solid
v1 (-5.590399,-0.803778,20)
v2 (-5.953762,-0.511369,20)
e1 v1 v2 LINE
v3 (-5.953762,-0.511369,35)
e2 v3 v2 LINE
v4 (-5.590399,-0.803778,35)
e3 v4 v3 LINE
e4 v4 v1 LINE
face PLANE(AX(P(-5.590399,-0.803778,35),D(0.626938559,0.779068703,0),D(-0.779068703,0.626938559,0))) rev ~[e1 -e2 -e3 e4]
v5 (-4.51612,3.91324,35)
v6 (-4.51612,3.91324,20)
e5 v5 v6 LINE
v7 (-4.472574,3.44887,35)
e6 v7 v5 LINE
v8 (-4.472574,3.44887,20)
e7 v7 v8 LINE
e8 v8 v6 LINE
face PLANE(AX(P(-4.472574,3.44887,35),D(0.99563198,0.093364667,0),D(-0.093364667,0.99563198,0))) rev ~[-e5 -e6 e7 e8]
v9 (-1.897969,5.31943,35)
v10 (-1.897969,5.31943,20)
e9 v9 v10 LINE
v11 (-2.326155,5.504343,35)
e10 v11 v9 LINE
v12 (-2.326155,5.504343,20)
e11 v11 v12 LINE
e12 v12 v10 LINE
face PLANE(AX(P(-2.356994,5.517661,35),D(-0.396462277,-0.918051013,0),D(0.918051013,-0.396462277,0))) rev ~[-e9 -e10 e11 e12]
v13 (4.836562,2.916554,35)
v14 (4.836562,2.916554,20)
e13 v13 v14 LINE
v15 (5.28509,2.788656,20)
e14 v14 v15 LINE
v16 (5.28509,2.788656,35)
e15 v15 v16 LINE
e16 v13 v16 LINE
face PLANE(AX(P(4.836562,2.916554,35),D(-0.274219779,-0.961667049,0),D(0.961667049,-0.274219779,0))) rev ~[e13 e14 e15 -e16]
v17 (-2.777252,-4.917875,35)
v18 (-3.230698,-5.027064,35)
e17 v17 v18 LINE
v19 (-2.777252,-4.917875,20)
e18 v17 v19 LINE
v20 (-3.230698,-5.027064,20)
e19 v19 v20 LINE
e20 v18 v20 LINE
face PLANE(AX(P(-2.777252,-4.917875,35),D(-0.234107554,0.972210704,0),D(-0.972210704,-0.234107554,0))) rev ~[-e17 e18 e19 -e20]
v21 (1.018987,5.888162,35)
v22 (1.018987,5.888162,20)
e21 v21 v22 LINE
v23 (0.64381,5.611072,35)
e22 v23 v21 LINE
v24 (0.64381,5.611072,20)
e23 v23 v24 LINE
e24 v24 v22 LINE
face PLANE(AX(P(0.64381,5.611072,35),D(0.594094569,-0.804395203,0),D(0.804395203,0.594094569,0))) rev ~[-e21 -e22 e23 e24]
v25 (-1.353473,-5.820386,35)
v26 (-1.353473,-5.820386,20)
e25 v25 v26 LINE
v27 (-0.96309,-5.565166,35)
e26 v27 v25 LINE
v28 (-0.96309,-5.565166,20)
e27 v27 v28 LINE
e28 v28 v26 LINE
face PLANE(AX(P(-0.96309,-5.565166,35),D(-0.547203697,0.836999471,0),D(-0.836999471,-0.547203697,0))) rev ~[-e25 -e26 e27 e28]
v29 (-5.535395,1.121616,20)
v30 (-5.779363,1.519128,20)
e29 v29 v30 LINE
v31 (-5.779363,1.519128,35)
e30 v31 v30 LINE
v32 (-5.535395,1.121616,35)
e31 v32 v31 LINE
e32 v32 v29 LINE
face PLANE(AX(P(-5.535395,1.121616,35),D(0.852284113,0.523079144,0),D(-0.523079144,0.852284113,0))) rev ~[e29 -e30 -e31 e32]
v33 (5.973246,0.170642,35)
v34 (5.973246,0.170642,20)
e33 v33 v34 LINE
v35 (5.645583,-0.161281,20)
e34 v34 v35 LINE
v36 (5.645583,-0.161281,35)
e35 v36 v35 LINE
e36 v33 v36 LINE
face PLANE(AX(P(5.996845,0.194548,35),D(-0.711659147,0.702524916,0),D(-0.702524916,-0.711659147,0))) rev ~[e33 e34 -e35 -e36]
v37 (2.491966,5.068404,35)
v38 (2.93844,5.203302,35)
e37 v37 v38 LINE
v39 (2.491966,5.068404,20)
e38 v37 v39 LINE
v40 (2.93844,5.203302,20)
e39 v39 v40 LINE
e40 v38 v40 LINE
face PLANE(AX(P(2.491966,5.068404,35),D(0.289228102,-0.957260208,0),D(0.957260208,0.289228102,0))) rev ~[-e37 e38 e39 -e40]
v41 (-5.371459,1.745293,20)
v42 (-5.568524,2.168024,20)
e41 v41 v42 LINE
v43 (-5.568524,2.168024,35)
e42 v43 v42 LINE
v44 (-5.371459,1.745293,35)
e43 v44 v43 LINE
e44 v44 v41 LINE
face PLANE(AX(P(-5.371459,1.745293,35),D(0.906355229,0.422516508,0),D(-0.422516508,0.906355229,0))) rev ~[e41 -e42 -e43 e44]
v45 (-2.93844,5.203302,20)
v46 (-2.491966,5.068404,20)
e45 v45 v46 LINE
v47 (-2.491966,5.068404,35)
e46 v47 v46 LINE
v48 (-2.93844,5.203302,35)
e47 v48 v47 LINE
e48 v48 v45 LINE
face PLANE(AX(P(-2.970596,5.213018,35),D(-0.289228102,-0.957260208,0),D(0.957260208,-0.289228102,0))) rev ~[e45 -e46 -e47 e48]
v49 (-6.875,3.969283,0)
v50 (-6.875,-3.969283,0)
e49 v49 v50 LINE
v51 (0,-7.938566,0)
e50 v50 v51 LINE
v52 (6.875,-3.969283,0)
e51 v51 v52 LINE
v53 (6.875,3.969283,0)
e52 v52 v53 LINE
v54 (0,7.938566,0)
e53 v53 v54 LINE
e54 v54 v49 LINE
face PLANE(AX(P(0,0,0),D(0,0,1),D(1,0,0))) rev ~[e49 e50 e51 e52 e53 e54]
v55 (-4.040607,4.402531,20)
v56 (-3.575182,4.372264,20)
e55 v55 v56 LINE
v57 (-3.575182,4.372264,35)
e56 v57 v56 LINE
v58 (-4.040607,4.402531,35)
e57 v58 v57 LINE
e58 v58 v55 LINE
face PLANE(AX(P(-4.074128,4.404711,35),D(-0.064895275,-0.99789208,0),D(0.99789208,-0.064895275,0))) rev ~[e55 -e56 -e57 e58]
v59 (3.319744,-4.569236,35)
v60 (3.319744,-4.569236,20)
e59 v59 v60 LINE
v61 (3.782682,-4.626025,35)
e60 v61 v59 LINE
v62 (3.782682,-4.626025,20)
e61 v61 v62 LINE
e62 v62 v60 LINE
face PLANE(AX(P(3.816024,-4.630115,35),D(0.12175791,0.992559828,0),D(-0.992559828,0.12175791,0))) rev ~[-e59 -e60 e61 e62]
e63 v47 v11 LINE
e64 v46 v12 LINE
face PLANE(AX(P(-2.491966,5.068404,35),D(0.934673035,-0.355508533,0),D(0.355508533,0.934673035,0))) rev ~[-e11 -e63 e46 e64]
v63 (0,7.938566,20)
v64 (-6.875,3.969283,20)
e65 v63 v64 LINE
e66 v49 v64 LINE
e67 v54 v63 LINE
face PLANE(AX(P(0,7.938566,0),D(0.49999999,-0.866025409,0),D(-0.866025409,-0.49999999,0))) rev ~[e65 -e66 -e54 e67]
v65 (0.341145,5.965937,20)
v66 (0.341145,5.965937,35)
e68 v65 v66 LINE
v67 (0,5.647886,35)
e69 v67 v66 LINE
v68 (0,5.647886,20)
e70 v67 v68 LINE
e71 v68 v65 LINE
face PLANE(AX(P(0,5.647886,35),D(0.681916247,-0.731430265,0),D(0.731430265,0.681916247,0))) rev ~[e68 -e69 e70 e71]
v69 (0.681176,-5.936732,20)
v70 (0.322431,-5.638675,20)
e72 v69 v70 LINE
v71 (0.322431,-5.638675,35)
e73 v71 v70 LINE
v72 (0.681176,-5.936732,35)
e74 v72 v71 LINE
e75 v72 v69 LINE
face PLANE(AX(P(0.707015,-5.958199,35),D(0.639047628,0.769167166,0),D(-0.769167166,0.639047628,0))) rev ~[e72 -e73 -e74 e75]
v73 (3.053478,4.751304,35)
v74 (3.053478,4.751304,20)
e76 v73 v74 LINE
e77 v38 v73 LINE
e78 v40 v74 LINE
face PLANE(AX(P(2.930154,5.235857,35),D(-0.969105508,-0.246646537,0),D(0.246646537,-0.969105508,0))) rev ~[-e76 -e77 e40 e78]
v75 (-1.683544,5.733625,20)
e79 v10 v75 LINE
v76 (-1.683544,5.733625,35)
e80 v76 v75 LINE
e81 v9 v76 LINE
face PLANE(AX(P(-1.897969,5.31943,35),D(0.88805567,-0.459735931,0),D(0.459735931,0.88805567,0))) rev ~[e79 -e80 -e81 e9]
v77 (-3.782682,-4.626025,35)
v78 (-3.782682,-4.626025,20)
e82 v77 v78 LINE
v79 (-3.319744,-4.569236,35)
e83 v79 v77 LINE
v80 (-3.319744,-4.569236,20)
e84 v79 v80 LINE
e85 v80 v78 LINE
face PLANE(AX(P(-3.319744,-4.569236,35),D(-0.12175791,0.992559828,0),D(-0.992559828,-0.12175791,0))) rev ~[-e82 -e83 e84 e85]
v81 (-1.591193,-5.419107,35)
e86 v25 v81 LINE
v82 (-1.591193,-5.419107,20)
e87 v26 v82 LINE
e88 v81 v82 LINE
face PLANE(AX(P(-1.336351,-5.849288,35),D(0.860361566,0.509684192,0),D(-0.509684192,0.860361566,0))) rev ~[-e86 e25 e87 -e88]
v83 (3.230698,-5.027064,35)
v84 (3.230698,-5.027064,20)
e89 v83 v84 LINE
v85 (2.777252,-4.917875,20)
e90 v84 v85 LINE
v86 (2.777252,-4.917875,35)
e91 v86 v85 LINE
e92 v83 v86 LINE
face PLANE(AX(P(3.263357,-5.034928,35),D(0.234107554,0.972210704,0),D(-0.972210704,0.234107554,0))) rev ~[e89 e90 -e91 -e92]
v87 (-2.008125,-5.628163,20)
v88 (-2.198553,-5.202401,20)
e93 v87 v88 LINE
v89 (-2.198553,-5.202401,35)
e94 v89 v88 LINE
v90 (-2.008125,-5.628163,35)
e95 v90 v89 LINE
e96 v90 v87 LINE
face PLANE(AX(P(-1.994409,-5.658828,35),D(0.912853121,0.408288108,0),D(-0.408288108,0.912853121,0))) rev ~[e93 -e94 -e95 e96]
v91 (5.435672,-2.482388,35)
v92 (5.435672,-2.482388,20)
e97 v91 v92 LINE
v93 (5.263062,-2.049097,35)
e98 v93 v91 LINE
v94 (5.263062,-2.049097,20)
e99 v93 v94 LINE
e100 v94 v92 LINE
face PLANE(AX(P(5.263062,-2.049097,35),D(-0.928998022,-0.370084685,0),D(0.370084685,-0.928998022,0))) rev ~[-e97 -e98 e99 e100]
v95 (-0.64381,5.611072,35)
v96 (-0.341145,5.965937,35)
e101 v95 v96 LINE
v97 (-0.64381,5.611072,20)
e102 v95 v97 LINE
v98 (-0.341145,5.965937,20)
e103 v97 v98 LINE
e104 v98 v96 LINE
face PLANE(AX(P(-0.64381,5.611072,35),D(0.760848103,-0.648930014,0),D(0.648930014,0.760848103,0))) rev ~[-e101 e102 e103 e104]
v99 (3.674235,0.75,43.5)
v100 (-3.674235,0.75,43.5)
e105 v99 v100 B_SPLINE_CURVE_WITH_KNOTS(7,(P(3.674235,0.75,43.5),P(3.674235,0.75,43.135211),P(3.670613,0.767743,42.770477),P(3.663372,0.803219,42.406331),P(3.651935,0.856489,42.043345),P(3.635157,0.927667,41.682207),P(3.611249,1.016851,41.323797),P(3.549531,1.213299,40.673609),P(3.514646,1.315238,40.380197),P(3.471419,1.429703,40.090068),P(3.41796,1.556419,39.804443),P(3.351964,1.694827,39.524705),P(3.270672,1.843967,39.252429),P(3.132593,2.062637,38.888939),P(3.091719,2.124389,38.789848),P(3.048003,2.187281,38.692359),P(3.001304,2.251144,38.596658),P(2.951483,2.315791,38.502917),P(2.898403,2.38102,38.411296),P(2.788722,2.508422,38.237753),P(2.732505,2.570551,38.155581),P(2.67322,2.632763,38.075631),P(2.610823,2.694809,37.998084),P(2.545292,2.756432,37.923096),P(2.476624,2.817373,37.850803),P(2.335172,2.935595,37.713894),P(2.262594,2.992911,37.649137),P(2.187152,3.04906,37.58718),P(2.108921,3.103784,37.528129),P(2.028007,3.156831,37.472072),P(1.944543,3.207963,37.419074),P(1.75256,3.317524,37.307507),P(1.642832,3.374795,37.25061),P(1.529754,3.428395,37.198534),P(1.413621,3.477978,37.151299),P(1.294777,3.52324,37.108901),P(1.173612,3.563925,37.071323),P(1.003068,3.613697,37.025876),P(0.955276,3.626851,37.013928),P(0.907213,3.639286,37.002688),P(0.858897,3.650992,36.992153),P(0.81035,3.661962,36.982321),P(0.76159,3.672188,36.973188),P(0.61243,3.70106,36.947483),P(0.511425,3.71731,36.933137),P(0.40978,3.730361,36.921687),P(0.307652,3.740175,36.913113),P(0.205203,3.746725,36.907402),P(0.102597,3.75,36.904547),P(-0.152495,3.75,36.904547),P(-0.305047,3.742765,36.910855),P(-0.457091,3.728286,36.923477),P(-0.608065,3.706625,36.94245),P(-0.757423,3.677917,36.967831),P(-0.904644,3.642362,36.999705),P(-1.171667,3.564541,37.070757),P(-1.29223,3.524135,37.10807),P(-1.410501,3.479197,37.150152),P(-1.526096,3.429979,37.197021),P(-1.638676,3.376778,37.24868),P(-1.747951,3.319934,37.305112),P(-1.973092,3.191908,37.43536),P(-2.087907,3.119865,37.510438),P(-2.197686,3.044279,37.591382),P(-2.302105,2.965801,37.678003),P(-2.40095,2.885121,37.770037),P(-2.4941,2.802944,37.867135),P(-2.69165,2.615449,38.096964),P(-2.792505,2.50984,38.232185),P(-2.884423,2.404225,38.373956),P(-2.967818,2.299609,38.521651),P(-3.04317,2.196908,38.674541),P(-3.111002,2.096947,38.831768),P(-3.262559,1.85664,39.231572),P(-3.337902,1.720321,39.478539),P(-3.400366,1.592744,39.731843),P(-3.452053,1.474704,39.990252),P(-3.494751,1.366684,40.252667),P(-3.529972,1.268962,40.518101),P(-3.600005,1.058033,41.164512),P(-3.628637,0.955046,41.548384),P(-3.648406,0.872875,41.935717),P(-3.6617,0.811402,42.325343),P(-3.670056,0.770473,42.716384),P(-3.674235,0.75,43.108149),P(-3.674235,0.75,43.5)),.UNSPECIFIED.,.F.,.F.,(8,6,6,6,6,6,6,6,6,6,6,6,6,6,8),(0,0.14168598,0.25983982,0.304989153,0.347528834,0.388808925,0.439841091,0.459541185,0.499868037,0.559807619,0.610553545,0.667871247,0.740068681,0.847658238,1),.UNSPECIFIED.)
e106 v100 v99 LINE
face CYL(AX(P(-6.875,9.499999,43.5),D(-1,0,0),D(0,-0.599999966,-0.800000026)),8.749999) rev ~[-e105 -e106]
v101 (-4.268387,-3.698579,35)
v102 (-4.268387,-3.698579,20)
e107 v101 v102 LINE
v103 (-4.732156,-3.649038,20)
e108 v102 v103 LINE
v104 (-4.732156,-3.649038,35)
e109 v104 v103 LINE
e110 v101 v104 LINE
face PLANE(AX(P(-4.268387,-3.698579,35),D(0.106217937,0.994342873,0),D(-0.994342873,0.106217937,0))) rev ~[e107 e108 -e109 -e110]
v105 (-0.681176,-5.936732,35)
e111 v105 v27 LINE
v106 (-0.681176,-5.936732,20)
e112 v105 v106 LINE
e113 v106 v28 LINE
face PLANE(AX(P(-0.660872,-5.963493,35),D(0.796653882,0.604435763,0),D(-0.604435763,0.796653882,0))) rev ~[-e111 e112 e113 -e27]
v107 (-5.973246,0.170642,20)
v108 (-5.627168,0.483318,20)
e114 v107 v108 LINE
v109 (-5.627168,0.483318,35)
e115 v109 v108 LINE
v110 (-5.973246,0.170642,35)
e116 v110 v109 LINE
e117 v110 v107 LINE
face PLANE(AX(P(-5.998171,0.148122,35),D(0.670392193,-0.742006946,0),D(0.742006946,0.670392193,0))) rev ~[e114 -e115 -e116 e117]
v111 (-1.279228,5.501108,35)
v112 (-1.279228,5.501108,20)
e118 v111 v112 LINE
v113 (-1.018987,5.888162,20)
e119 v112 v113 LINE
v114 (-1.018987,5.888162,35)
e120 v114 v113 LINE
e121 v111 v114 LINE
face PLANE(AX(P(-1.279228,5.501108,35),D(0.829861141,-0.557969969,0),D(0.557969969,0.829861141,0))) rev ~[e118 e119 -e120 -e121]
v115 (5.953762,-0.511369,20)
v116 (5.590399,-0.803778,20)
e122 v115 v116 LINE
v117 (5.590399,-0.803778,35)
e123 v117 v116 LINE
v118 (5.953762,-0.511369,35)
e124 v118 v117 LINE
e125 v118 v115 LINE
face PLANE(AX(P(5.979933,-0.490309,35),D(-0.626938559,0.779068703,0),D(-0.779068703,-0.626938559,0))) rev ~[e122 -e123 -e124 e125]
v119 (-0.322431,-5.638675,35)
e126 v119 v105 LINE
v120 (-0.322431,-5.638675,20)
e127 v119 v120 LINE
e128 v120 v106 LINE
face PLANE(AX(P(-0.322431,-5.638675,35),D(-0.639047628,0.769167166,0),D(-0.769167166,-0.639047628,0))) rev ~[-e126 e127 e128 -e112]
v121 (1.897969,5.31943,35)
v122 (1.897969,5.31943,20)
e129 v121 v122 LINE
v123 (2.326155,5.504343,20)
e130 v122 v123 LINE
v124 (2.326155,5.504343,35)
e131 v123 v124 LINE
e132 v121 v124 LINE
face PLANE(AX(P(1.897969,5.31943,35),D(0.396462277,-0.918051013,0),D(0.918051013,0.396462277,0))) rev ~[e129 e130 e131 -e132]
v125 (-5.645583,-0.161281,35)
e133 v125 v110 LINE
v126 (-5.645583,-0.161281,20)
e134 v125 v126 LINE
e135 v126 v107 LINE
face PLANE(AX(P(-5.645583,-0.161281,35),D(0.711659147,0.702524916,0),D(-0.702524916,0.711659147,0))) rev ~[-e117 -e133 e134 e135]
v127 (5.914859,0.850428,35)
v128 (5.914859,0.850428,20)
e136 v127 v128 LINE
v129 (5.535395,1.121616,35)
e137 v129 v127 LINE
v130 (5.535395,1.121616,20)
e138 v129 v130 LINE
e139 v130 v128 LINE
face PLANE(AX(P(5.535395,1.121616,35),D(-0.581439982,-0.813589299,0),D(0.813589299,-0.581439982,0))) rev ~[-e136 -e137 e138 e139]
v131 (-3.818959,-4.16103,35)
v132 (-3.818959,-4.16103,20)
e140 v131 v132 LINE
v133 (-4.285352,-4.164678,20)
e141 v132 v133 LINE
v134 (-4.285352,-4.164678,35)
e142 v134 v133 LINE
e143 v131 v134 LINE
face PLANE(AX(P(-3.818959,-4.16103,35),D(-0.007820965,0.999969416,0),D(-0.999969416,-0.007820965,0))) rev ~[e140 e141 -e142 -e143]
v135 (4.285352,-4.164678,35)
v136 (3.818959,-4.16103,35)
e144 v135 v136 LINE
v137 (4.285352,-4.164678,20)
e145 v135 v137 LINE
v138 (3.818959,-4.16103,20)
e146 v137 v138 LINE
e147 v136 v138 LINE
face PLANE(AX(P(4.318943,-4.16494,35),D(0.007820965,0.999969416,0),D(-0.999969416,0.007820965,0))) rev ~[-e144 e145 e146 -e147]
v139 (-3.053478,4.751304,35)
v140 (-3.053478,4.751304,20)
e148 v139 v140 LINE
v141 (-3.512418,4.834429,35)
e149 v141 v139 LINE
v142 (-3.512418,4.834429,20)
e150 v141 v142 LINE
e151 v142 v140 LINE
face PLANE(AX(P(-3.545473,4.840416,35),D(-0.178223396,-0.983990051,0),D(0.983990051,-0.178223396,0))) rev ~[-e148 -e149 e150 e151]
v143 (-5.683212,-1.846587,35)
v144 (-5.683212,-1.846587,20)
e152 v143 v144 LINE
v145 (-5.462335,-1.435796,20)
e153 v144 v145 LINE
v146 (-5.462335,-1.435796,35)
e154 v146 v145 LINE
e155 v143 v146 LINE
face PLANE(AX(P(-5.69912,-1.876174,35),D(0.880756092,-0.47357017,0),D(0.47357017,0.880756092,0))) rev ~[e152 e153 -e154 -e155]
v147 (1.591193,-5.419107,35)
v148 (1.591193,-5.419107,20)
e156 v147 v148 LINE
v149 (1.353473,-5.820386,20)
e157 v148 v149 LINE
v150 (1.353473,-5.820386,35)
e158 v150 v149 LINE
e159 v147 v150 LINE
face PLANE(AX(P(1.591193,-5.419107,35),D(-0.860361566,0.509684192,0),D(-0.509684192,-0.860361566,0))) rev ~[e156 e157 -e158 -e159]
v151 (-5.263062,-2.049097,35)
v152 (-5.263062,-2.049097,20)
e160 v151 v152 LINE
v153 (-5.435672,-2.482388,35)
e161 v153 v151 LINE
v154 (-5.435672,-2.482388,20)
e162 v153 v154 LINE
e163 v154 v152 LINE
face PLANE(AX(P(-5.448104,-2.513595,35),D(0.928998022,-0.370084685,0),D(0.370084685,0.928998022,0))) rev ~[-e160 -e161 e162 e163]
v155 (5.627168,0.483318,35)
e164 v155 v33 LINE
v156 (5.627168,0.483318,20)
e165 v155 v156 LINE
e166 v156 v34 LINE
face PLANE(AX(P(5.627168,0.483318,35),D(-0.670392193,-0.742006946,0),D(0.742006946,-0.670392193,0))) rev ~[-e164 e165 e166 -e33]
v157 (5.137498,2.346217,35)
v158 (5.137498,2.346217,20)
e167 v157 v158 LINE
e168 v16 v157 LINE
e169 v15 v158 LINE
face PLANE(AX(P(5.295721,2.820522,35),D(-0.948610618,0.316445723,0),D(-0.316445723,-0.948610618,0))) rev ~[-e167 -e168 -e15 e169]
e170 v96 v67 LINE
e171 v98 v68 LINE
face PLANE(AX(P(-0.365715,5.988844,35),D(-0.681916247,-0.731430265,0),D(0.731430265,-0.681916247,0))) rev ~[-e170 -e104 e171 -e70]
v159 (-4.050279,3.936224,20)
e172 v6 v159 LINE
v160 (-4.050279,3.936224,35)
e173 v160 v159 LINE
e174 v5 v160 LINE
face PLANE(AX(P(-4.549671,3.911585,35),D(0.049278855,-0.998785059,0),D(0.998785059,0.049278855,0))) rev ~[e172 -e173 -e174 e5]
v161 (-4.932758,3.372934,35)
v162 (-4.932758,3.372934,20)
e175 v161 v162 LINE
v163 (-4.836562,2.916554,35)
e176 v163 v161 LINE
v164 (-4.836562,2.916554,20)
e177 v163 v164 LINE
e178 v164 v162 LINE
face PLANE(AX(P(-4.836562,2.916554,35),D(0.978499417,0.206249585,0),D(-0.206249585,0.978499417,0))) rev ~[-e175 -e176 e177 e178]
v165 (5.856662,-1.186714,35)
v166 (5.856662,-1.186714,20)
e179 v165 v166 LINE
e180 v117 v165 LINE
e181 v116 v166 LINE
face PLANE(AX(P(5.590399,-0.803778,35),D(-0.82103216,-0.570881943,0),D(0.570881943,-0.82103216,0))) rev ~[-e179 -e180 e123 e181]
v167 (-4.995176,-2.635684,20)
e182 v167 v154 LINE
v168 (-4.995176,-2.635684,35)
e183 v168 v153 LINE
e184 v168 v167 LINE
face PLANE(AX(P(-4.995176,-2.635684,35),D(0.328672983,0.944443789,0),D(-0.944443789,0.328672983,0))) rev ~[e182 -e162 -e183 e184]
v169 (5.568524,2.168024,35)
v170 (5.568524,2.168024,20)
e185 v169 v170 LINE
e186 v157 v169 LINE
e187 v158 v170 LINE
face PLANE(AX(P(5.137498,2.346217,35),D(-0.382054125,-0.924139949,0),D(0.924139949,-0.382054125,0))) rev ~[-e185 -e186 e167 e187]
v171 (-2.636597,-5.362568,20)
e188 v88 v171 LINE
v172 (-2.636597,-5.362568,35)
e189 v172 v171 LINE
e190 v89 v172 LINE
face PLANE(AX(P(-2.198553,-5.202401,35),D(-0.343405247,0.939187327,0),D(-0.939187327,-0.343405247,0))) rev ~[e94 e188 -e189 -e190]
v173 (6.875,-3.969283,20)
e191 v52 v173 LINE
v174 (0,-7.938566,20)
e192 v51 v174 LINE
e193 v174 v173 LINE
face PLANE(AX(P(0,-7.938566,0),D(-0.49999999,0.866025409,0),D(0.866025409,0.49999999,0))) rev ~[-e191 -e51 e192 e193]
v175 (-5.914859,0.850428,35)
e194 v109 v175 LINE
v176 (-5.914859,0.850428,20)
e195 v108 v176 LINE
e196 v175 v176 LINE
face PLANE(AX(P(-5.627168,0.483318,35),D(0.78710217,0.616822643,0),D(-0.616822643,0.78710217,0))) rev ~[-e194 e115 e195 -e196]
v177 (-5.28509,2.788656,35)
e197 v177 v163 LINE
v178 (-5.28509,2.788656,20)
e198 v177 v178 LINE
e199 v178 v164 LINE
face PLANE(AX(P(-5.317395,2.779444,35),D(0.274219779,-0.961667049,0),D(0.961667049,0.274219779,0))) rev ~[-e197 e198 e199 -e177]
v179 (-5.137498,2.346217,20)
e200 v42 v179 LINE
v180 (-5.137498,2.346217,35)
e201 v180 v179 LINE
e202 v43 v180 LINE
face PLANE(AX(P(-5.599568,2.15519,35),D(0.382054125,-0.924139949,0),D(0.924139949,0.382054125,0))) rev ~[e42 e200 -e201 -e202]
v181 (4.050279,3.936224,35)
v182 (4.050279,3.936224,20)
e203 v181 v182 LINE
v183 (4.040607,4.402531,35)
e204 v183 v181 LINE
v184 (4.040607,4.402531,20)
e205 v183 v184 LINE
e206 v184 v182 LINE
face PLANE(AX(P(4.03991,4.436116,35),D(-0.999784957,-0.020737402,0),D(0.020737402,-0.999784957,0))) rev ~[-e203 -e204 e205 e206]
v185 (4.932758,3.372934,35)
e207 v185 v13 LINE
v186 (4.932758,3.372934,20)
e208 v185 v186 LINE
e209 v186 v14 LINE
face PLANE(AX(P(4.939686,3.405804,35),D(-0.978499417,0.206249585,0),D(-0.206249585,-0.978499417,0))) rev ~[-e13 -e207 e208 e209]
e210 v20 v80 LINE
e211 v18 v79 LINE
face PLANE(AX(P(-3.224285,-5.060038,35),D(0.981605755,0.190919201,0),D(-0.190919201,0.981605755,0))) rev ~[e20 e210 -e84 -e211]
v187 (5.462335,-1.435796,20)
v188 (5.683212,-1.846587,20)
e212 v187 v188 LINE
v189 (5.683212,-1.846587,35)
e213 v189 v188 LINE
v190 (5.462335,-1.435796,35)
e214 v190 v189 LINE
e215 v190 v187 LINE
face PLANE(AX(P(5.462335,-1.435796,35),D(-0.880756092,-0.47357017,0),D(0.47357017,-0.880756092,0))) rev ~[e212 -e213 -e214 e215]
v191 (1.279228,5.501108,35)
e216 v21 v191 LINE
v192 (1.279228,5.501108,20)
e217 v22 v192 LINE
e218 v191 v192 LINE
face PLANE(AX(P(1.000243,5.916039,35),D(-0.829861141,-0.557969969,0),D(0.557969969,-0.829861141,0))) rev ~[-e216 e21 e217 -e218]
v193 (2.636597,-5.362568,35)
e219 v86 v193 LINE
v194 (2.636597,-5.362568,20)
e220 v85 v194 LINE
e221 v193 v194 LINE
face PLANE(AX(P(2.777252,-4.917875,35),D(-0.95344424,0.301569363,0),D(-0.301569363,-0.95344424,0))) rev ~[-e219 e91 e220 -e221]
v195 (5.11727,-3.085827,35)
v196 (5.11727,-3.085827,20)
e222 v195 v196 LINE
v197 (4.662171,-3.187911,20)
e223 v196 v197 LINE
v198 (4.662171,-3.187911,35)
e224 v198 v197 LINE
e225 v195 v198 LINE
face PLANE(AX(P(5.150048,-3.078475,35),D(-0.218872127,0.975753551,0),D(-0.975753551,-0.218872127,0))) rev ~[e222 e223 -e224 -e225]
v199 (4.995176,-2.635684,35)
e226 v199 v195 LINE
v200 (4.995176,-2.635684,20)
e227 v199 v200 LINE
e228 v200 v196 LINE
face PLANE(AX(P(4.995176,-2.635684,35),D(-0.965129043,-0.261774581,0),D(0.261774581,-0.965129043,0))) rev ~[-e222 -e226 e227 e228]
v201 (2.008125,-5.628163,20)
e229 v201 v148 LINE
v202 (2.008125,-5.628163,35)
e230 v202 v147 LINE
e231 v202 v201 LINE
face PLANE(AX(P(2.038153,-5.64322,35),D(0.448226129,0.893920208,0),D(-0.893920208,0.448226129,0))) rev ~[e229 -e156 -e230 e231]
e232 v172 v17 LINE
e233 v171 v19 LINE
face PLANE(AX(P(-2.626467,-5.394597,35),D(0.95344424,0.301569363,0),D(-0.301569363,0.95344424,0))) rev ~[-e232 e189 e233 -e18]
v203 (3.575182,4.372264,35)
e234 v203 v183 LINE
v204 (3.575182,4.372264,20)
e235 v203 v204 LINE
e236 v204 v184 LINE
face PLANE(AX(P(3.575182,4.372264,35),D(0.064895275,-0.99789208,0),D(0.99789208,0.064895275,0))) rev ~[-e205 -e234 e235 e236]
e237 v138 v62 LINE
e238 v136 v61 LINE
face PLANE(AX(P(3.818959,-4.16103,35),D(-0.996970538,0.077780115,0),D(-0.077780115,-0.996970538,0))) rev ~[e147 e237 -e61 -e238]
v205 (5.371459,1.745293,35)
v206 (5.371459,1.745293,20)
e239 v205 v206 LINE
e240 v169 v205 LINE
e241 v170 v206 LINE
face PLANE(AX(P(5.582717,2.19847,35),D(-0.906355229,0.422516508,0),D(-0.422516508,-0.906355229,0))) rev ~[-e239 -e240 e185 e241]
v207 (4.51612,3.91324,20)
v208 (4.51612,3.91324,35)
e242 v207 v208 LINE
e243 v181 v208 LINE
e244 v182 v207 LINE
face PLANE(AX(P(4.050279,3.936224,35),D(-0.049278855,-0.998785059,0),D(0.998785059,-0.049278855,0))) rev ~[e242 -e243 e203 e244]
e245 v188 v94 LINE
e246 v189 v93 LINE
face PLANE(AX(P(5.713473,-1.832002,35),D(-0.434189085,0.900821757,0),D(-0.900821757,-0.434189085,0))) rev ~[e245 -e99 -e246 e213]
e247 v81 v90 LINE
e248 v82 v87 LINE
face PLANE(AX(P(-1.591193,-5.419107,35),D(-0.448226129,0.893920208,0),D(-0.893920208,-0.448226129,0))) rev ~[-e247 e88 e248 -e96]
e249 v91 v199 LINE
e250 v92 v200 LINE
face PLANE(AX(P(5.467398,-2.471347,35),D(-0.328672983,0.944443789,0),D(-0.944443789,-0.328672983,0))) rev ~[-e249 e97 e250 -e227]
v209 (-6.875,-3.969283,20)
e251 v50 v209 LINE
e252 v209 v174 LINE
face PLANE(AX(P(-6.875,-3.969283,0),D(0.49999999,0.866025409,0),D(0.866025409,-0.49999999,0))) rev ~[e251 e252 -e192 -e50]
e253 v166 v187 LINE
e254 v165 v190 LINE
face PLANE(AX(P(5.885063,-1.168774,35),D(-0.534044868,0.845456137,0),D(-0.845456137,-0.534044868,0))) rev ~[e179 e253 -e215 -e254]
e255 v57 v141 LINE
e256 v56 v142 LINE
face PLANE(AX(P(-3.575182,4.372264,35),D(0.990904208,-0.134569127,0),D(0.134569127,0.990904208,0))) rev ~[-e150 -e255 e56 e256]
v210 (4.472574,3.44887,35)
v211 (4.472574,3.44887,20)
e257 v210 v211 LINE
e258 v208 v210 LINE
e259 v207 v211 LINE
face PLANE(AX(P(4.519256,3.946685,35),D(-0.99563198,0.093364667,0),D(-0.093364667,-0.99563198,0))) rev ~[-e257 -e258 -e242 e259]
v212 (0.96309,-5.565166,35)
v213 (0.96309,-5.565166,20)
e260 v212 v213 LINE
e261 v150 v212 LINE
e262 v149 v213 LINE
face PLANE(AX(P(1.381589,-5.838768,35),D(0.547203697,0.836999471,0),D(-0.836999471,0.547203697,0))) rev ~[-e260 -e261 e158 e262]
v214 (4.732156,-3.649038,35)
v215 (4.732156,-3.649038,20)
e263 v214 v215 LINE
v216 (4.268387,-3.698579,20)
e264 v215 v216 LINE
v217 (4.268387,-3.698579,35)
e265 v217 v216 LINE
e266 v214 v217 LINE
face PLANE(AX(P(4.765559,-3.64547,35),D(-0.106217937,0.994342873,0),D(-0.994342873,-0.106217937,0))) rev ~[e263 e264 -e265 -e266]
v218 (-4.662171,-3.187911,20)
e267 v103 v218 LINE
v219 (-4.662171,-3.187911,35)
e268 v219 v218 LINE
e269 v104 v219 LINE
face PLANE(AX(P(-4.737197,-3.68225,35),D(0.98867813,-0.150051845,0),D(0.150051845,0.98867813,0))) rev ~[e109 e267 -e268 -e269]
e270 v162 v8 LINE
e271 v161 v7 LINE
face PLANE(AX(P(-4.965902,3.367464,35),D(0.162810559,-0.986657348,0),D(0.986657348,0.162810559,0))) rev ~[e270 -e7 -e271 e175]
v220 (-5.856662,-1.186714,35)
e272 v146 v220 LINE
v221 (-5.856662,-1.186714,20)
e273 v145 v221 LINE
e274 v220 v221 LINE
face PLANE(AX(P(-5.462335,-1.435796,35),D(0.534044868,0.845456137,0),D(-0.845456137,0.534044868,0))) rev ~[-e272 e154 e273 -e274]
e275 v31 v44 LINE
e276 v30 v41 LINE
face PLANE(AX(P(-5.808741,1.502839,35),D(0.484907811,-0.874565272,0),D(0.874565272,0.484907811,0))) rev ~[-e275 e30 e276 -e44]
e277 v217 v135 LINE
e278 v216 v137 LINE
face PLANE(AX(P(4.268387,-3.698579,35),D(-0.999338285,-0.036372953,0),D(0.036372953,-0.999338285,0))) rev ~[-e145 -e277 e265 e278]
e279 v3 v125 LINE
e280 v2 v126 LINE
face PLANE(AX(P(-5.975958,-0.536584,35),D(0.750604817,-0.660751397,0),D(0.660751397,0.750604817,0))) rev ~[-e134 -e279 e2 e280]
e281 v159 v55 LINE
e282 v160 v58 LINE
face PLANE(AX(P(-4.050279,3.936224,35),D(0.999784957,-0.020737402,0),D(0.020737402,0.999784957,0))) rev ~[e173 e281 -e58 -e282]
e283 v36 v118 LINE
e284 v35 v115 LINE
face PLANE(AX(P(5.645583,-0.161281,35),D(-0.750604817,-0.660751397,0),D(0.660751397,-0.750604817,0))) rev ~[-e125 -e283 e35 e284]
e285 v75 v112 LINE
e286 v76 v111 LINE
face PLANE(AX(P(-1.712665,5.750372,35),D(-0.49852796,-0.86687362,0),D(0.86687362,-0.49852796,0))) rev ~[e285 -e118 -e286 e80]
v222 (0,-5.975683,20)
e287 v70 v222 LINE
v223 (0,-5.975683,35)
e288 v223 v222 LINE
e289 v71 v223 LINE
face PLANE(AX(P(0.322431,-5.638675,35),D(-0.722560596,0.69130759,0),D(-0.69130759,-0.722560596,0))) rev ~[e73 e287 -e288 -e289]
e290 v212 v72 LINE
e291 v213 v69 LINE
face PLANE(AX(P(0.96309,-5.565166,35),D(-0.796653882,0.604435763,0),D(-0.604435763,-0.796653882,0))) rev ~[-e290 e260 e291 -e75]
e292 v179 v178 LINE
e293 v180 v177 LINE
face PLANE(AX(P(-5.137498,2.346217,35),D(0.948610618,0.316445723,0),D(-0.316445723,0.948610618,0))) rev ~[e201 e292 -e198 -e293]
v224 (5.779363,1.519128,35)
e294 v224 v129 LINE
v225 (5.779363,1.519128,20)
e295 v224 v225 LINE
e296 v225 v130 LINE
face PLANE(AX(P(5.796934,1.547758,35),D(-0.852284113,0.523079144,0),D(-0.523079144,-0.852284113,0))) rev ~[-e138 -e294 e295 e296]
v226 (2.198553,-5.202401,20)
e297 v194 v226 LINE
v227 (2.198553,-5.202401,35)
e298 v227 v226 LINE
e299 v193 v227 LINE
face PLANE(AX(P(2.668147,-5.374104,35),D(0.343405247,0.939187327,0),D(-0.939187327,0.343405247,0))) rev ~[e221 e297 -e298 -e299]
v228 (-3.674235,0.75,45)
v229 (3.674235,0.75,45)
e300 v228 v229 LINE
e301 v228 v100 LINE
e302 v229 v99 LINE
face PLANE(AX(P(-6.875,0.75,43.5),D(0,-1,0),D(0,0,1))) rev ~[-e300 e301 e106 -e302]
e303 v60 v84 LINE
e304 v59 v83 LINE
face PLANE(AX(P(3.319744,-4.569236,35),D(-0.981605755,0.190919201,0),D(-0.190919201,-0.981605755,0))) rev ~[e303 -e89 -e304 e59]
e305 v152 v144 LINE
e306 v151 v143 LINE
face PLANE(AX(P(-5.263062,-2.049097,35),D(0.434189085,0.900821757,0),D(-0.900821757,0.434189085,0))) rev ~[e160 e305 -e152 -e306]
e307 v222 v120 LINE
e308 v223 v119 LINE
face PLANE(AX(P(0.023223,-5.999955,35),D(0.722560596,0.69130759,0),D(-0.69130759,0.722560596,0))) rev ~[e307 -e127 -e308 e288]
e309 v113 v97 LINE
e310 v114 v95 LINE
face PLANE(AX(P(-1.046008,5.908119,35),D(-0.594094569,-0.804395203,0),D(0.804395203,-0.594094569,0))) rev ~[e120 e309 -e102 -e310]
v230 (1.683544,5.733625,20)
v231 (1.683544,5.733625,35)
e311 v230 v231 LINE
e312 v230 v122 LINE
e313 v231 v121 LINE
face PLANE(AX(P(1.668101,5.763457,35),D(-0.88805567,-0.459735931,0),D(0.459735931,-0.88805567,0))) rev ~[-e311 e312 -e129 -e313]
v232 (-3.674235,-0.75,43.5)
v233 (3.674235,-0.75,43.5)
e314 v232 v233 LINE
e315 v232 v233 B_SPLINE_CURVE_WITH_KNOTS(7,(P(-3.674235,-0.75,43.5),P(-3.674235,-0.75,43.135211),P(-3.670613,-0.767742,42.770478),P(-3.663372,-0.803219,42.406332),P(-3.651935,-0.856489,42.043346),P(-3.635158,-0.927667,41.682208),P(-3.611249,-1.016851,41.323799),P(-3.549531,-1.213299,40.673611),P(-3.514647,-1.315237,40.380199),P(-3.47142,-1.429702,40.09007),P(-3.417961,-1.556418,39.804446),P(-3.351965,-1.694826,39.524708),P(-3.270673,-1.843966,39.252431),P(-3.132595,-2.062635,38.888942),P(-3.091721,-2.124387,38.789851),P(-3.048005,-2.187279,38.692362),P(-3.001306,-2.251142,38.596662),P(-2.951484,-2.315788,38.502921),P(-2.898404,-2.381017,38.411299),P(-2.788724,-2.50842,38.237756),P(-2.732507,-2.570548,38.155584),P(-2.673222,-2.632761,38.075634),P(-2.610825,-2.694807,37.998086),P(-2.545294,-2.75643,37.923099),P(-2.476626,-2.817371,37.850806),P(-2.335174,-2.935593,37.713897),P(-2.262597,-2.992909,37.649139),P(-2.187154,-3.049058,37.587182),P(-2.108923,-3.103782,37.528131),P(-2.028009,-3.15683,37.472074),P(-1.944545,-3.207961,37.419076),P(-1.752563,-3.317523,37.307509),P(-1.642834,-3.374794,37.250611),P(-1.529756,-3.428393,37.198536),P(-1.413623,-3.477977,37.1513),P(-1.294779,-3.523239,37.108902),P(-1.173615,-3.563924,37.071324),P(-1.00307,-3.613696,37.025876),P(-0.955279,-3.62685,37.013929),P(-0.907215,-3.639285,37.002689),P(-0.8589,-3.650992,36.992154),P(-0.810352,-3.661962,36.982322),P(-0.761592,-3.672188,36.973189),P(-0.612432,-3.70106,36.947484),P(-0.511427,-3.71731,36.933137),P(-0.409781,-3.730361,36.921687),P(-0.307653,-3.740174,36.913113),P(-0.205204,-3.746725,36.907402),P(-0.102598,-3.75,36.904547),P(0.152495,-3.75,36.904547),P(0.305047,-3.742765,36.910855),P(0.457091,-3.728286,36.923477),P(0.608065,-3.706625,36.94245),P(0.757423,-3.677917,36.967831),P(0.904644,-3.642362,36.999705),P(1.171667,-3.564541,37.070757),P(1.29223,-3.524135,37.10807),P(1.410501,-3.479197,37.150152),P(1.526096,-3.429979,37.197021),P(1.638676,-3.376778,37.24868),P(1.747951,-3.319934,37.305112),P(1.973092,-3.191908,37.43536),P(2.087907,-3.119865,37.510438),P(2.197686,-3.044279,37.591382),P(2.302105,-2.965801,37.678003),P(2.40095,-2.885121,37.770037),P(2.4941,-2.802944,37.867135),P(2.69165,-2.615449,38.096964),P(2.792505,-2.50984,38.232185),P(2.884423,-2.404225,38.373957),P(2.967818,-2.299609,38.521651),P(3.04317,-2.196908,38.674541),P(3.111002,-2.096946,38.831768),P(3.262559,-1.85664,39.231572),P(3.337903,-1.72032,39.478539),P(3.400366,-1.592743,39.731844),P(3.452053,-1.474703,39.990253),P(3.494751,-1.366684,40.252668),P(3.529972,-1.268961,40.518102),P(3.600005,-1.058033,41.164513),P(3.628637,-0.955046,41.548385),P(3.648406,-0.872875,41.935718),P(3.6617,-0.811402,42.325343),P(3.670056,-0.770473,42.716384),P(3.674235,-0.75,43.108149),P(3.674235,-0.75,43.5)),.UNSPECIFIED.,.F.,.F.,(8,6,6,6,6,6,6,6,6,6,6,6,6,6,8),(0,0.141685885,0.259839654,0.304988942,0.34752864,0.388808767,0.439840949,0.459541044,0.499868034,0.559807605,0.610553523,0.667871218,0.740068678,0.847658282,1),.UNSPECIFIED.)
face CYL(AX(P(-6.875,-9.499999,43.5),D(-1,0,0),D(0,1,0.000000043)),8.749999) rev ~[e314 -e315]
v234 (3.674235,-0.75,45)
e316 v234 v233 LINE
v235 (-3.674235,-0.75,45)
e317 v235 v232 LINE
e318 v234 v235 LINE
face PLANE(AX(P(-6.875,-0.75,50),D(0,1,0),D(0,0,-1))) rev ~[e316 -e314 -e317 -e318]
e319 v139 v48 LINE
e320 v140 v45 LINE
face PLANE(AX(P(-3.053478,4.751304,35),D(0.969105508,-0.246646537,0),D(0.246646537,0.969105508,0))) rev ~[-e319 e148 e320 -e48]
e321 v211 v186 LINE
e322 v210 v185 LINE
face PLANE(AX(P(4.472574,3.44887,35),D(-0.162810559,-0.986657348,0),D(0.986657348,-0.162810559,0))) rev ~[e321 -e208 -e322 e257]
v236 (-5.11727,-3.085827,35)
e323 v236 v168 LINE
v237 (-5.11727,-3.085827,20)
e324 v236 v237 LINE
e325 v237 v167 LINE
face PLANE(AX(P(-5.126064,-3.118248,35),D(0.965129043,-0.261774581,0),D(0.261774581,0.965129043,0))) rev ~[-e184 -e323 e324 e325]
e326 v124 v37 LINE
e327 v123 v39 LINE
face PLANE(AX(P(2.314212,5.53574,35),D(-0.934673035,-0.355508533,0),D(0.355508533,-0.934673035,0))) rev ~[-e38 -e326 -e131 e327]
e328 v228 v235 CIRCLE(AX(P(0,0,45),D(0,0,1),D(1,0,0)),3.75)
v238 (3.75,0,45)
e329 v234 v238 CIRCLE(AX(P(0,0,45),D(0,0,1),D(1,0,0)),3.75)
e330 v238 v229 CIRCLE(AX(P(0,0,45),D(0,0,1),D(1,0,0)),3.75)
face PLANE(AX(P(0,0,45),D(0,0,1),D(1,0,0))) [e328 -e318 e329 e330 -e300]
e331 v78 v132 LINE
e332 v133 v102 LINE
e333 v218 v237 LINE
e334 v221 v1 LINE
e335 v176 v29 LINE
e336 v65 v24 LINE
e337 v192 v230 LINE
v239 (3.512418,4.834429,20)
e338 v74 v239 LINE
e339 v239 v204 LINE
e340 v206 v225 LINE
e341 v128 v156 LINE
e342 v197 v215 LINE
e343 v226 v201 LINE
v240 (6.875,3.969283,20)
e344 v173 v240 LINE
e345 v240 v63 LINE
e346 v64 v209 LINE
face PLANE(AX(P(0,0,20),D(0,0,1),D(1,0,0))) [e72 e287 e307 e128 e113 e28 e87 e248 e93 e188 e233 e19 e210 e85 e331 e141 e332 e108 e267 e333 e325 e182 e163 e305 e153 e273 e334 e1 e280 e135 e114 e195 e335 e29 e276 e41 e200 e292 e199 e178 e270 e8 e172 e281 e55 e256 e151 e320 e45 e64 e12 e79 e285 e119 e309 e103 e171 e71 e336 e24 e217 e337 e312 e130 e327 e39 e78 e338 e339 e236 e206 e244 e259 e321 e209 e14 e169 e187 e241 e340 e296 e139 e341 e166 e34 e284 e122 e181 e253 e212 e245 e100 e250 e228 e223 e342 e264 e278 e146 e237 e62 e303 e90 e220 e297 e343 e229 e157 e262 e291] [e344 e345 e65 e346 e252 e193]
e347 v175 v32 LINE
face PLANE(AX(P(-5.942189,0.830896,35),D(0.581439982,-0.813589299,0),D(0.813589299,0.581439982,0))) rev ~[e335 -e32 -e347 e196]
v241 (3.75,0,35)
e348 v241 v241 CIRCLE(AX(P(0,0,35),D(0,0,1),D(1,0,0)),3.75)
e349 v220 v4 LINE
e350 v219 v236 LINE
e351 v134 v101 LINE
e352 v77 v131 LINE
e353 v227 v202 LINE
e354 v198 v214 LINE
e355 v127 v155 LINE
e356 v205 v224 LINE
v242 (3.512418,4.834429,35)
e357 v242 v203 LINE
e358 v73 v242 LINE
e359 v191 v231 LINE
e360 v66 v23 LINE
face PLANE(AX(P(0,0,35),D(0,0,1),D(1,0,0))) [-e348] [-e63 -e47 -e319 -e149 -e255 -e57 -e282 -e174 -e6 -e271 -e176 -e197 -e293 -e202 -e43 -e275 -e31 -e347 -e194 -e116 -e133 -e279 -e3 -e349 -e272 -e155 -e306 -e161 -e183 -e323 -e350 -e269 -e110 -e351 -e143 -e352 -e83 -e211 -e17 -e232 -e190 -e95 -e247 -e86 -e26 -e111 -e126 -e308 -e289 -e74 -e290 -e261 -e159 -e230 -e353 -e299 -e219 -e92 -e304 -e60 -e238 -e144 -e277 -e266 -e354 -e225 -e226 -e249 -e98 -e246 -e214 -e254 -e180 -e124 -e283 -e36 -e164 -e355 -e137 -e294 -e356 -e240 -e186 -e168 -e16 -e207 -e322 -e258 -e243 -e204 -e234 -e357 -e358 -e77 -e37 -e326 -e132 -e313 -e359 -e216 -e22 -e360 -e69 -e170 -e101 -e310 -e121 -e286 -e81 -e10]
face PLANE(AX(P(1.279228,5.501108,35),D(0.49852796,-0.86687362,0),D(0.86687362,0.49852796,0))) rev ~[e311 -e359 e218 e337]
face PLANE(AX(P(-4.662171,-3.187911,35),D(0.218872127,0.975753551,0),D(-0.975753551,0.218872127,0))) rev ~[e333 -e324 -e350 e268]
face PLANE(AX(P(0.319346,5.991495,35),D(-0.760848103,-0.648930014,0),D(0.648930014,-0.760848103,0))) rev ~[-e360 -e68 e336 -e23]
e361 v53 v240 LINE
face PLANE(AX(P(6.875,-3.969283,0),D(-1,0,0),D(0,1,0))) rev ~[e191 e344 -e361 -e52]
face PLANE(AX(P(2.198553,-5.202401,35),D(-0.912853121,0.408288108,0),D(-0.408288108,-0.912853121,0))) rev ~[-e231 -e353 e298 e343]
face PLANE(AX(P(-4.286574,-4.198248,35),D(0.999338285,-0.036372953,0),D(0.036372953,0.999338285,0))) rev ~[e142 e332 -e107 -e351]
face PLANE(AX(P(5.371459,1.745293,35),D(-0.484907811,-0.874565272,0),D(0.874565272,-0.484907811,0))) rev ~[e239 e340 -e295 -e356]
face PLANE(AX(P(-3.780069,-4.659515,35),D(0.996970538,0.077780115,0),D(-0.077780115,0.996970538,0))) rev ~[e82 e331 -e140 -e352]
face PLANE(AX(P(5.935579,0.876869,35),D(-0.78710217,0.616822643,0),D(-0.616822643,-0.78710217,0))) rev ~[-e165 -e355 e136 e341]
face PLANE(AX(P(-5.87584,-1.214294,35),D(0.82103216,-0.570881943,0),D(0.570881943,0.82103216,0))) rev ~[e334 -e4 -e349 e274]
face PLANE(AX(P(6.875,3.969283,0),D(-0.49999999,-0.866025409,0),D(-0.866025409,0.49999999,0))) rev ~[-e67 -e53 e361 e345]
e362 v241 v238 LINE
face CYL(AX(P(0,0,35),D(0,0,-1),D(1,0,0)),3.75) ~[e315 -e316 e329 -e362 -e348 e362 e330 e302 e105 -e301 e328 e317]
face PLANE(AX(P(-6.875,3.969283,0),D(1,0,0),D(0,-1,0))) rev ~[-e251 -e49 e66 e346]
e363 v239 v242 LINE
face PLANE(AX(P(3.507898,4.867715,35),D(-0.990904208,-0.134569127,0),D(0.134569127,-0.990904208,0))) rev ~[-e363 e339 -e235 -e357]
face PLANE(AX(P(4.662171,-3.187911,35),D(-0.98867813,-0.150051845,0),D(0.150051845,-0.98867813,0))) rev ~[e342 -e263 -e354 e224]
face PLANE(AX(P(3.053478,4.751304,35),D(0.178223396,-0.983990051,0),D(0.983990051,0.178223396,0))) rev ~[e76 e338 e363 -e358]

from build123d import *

# Parameters (mm, degrees)
F1_DEPTH  = 20
F2_R      = 6
F3_DEPTH  = 15
F5_DEPTH  = 15
F6_COUNT  = 55
F8_R      = 3.75
F9_DEPTH  = 10
F11_DEPTH = 25


with BuildPart() as f1:
    # F0 (on Top) → F1 (new body)
    with BuildSketch(Plane.XY):
        Polygon((6.875, -3.969283), (6.875, 3.969283), (0, 7.938566), (-6.875, 3.969283), (-6.875, -3.969283), (0, -7.938566), align=None)
    extrude(amount=F1_DEPTH)

    # F2 (on face) → F3 (join)
    with BuildSketch(Plane.XY.offset(20)):
        Circle(F2_R)
    extrude(amount=F3_DEPTH)


with BuildPart() as f5:
    # F4 (on face) → F5 (new body, through all)
    with BuildSketch(Plane.XY.offset(35)):
        with BuildLine():
            ThreePointArc((0.365715, 5.988844), (0, 6), (-0.365715, 5.988844))
            Line((-0.365715, 5.988844), (0, 5.647886))
            Line((0, 5.647886), (0.365715, 5.988844))
        make_face()
    extrude(amount=-F5_DEPTH)


with BuildPart() as f6_1:
    # F6: instance of F5
    add(f5.part.rotate(Axis((0, 0, 35), (0, 0, -1)), 1 * 360 / F6_COUNT))


with BuildPart() as f6_2:
    # F6: instance of F5
    add(f5.part.rotate(Axis((0, 0, 35), (0, 0, -1)), 2 * 360 / F6_COUNT))


with BuildPart() as f6_3:
    # F6: instance of F5
    add(f5.part.rotate(Axis((0, 0, 35), (0, 0, -1)), 3 * 360 / F6_COUNT))


with BuildPart() as f6_4:
    # F6: instance of F5
    add(f5.part.rotate(Axis((0, 0, 35), (0, 0, -1)), 4 * 360 / F6_COUNT))


with BuildPart() as f6_5:
    # F6: instance of F5
    add(f5.part.rotate(Axis((0, 0, 35), (0, 0, -1)), 5 * 360 / F6_COUNT))


with BuildPart() as f6_6:
    # F6: instance of F5
    add(f5.part.rotate(Axis((0, 0, 35), (0, 0, -1)), 6 * 360 / F6_COUNT))


with BuildPart() as f6_7:
    # F6: instance of F5
    add(f5.part.rotate(Axis((0, 0, 35), (0, 0, -1)), 7 * 360 / F6_COUNT))


with BuildPart() as f6_8:
    # F6: instance of F5
    add(f5.part.rotate(Axis((0, 0, 35), (0, 0, -1)), 8 * 360 / F6_COUNT))


with BuildPart() as f6_9:
    # F6: instance of F5
    add(f5.part.rotate(Axis((0, 0, 35), (0, 0, -1)), 9 * 360 / F6_COUNT))


with BuildPart() as f6_10:
    # F6: instance of F5
    add(f5.part.rotate(Axis((0, 0, 35), (0, 0, -1)), 10 * 360 / F6_COUNT))


with BuildPart() as f6_11:
    # F6: instance of F5
    add(f5.part.rotate(Axis((0, 0, 35), (0, 0, -1)), 11 * 360 / F6_COUNT))


with BuildPart() as f6_12:
    # F6: instance of F5
    add(f5.part.rotate(Axis((0, 0, 35), (0, 0, -1)), 12 * 360 / F6_COUNT))


with BuildPart() as f6_13:
    # F6: instance of F5
    add(f5.part.rotate(Axis((0, 0, 35), (0, 0, -1)), 13 * 360 / F6_COUNT))


with BuildPart() as f6_14:
    # F6: instance of F5
    add(f5.part.rotate(Axis((0, 0, 35), (0, 0, -1)), 14 * 360 / F6_COUNT))


with BuildPart() as f6_15:
    # F6: instance of F5
    add(f5.part.rotate(Axis((0, 0, 35), (0, 0, -1)), 15 * 360 / F6_COUNT))


with BuildPart() as f6_16:
    # F6: instance of F5
    add(f5.part.rotate(Axis((0, 0, 35), (0, 0, -1)), 16 * 360 / F6_COUNT))


with BuildPart() as f6_17:
    # F6: instance of F5
    add(f5.part.rotate(Axis((0, 0, 35), (0, 0, -1)), 17 * 360 / F6_COUNT))


with BuildPart() as f6_18:
    # F6: instance of F5
    add(f5.part.rotate(Axis((0, 0, 35), (0, 0, -1)), 18 * 360 / F6_COUNT))


with BuildPart() as f6_19:
    # F6: instance of F5
    add(f5.part.rotate(Axis((0, 0, 35), (0, 0, -1)), 19 * 360 / F6_COUNT))


with BuildPart() as f6_20:
    # F6: instance of F5
    add(f5.part.rotate(Axis((0, 0, 35), (0, 0, -1)), 20 * 360 / F6_COUNT))


with BuildPart() as f6_21:
    # F6: instance of F5
    add(f5.part.rotate(Axis((0, 0, 35), (0, 0, -1)), 21 * 360 / F6_COUNT))


with BuildPart() as f6_22:
    # F6: instance of F5
    add(f5.part.rotate(Axis((0, 0, 35), (0, 0, -1)), 22 * 360 / F6_COUNT))


with BuildPart() as f6_23:
    # F6: instance of F5
    add(f5.part.rotate(Axis((0, 0, 35), (0, 0, -1)), 23 * 360 / F6_COUNT))


with BuildPart() as f6_24:
    # F6: instance of F5
    add(f5.part.rotate(Axis((0, 0, 35), (0, 0, -1)), 24 * 360 / F6_COUNT))


with BuildPart() as f6_25:
    # F6: instance of F5
    add(f5.part.rotate(Axis((0, 0, 35), (0, 0, -1)), 25 * 360 / F6_COUNT))


with BuildPart() as f6_26:
    # F6: instance of F5
    add(f5.part.rotate(Axis((0, 0, 35), (0, 0, -1)), 26 * 360 / F6_COUNT))


with BuildPart() as f6_27:
    # F6: instance of F5
    add(f5.part.rotate(Axis((0, 0, 35), (0, 0, -1)), 27 * 360 / F6_COUNT))


with BuildPart() as f6_28:
    # F6: instance of F5
    add(f5.part.rotate(Axis((0, 0, 35), (0, 0, -1)), 28 * 360 / F6_COUNT))


with BuildPart() as f6_29:
    # F6: instance of F5
    add(f5.part.rotate(Axis((0, 0, 35), (0, 0, -1)), 29 * 360 / F6_COUNT))


with BuildPart() as f6_30:
    # F6: instance of F5
    add(f5.part.rotate(Axis((0, 0, 35), (0, 0, -1)), 30 * 360 / F6_COUNT))


with BuildPart() as f6_31:
    # F6: instance of F5
    add(f5.part.rotate(Axis((0, 0, 35), (0, 0, -1)), 31 * 360 / F6_COUNT))


with BuildPart() as f6_32:
    # F6: instance of F5
    add(f5.part.rotate(Axis((0, 0, 35), (0, 0, -1)), 32 * 360 / F6_COUNT))


with BuildPart() as f6_33:
    # F6: instance of F5
    add(f5.part.rotate(Axis((0, 0, 35), (0, 0, -1)), 33 * 360 / F6_COUNT))


with BuildPart() as f6_34:
    # F6: instance of F5
    add(f5.part.rotate(Axis((0, 0, 35), (0, 0, -1)), 34 * 360 / F6_COUNT))


with BuildPart() as f6_35:
    # F6: instance of F5
    add(f5.part.rotate(Axis((0, 0, 35), (0, 0, -1)), 35 * 360 / F6_COUNT))


with BuildPart() as f6_36:
    # F6: instance of F5
    add(f5.part.rotate(Axis((0, 0, 35), (0, 0, -1)), 36 * 360 / F6_COUNT))


with BuildPart() as f6_37:
    # F6: instance of F5
    add(f5.part.rotate(Axis((0, 0, 35), (0, 0, -1)), 37 * 360 / F6_COUNT))


with BuildPart() as f6_38:
    # F6: instance of F5
    add(f5.part.rotate(Axis((0, 0, 35), (0, 0, -1)), 38 * 360 / F6_COUNT))


with BuildPart() as f6_39:
    # F6: instance of F5
    add(f5.part.rotate(Axis((0, 0, 35), (0, 0, -1)), 39 * 360 / F6_COUNT))


with BuildPart() as f6_40:
    # F6: instance of F5
    add(f5.part.rotate(Axis((0, 0, 35), (0, 0, -1)), 40 * 360 / F6_COUNT))


with BuildPart() as f6_41:
    # F6: instance of F5
    add(f5.part.rotate(Axis((0, 0, 35), (0, 0, -1)), 41 * 360 / F6_COUNT))


with BuildPart() as f6_42:
    # F6: instance of F5
    add(f5.part.rotate(Axis((0, 0, 35), (0, 0, -1)), 42 * 360 / F6_COUNT))


with BuildPart() as f6_43:
    # F6: instance of F5
    add(f5.part.rotate(Axis((0, 0, 35), (0, 0, -1)), 43 * 360 / F6_COUNT))


with BuildPart() as f6_44:
    # F6: instance of F5
    add(f5.part.rotate(Axis((0, 0, 35), (0, 0, -1)), 44 * 360 / F6_COUNT))


with BuildPart() as f6_45:
    # F6: instance of F5
    add(f5.part.rotate(Axis((0, 0, 35), (0, 0, -1)), 45 * 360 / F6_COUNT))


with BuildPart() as f6_46:
    # F6: instance of F5
    add(f5.part.rotate(Axis((0, 0, 35), (0, 0, -1)), 46 * 360 / F6_COUNT))


with BuildPart() as f6_47:
    # F6: instance of F5
    add(f5.part.rotate(Axis((0, 0, 35), (0, 0, -1)), 47 * 360 / F6_COUNT))


with BuildPart() as f6_48:
    # F6: instance of F5
    add(f5.part.rotate(Axis((0, 0, 35), (0, 0, -1)), 48 * 360 / F6_COUNT))


with BuildPart() as f6_49:
    # F6: instance of F5
    add(f5.part.rotate(Axis((0, 0, 35), (0, 0, -1)), 49 * 360 / F6_COUNT))


with BuildPart() as f6_50:
    # F6: instance of F5
    add(f5.part.rotate(Axis((0, 0, 35), (0, 0, -1)), 50 * 360 / F6_COUNT))


with BuildPart() as f6_51:
    # F6: instance of F5
    add(f5.part.rotate(Axis((0, 0, 35), (0, 0, -1)), 51 * 360 / F6_COUNT))


with BuildPart() as f6_52:
    # F6: instance of F5
    add(f5.part.rotate(Axis((0, 0, 35), (0, 0, -1)), 52 * 360 / F6_COUNT))


with BuildPart() as f6_53:
    # F6: instance of F5
    add(f5.part.rotate(Axis((0, 0, 35), (0, 0, -1)), 53 * 360 / F6_COUNT))


with BuildPart() as f6_54:
    # F6: instance of F5
    add(f5.part.rotate(Axis((0, 0, 35), (0, 0, -1)), 54 * 360 / F6_COUNT))


with BuildPart() as f1_1:
    add(f1.part)

    # F7: cut F6_6, F6_8, F6_10, F6_7, F6_1, F6_4, F6_5, F6_3, F6_2, F5, F6_9, F6_11, F6_12, F6_13, F6_14, F6_15, F6_16, F6_17, F6_18, F6_19, F6_20, F6_21, F6_22, F6_23, F6_24, F6_25, F6_26, F6_27, F6_28, F6_29, F6_30, F6_31, F6_32, F6_33, F6_34, F6_35, F6_36, F6_37, F6_38, F6_39, F6_40, F6_41, F6_42, F6_43, F6_44, F6_45, F6_46, F6_47, F6_48, F6_49, F6_50, F6_51, F6_52, F6_53, F6_54
    add(f6_6.part, mode=Mode.SUBTRACT)
    add(f6_8.part, mode=Mode.SUBTRACT)
    add(f6_10.part, mode=Mode.SUBTRACT)
    add(f6_7.part, mode=Mode.SUBTRACT)
    add(f6_1.part, mode=Mode.SUBTRACT)
    add(f6_4.part, mode=Mode.SUBTRACT)
    add(f6_5.part, mode=Mode.SUBTRACT)
    add(f6_3.part, mode=Mode.SUBTRACT)
    add(f6_2.part, mode=Mode.SUBTRACT)
    add(f5.part, mode=Mode.SUBTRACT)
    add(f6_9.part, mode=Mode.SUBTRACT)
    add(f6_11.part, mode=Mode.SUBTRACT)
    add(f6_12.part, mode=Mode.SUBTRACT)
    add(f6_13.part, mode=Mode.SUBTRACT)
    add(f6_14.part, mode=Mode.SUBTRACT)
    add(f6_15.part, mode=Mode.SUBTRACT)
    add(f6_16.part, mode=Mode.SUBTRACT)
    add(f6_17.part, mode=Mode.SUBTRACT)
    add(f6_18.part, mode=Mode.SUBTRACT)
    add(f6_19.part, mode=Mode.SUBTRACT)
    add(f6_20.part, mode=Mode.SUBTRACT)
    add(f6_21.part, mode=Mode.SUBTRACT)
    add(f6_22.part, mode=Mode.SUBTRACT)
    add(f6_23.part, mode=Mode.SUBTRACT)
    add(f6_24.part, mode=Mode.SUBTRACT)
    add(f6_25.part, mode=Mode.SUBTRACT)
    add(f6_26.part, mode=Mode.SUBTRACT)
    add(f6_27.part, mode=Mode.SUBTRACT)
    add(f6_28.part, mode=Mode.SUBTRACT)
    add(f6_29.part, mode=Mode.SUBTRACT)
    add(f6_30.part, mode=Mode.SUBTRACT)
    add(f6_31.part, mode=Mode.SUBTRACT)
    add(f6_32.part, mode=Mode.SUBTRACT)
    add(f6_33.part, mode=Mode.SUBTRACT)
    add(f6_34.part, mode=Mode.SUBTRACT)
    add(f6_35.part, mode=Mode.SUBTRACT)
    add(f6_36.part, mode=Mode.SUBTRACT)
    add(f6_37.part, mode=Mode.SUBTRACT)
    add(f6_38.part, mode=Mode.SUBTRACT)
    add(f6_39.part, mode=Mode.SUBTRACT)
    add(f6_40.part, mode=Mode.SUBTRACT)
    add(f6_41.part, mode=Mode.SUBTRACT)
    add(f6_42.part, mode=Mode.SUBTRACT)
    add(f6_43.part, mode=Mode.SUBTRACT)
    add(f6_44.part, mode=Mode.SUBTRACT)
    add(f6_45.part, mode=Mode.SUBTRACT)
    add(f6_46.part, mode=Mode.SUBTRACT)
    add(f6_47.part, mode=Mode.SUBTRACT)
    add(f6_48.part, mode=Mode.SUBTRACT)
    add(f6_49.part, mode=Mode.SUBTRACT)
    add(f6_50.part, mode=Mode.SUBTRACT)
    add(f6_51.part, mode=Mode.SUBTRACT)
    add(f6_52.part, mode=Mode.SUBTRACT)
    add(f6_53.part, mode=Mode.SUBTRACT)
    add(f6_54.part, mode=Mode.SUBTRACT)

    # F8 (on face) → F9 (join)
    with BuildSketch(Plane.XY.offset(35)):
        Circle(F8_R)
    extrude(amount=F9_DEPTH)

    # F10 (on face) → F11 (cut)
    with BuildSketch(Plane(origin=(-6.875, 0, 0), x_dir=(0, -1, 0), z_dir=(-1, 0, 0))):
        with BuildLine():
            Line((-0.75, 49.5), (-0.75, 50))
            Line((-0.75, 50), (-4.25, 50))
            Line((-4.25, 50), (-4.25, 36.5))
            ThreePointArc((-4.25, 36.5), (-1.673762, 39.586881), (-0.75, 43.5))
            Line((-0.75, 43.5), (-0.75, 49.5))
        make_face()
        with BuildLine():
            Line((0.75, 50), (0.75, 43.5))
            ThreePointArc((0.75, 43.5), (1.673762, 39.586881), (4.25, 36.5))
            Line((4.25, 36.5), (4.25, 50))
            Line((4.25, 50), (0.75, 50))
        make_face()
    extrude(amount=-F11_DEPTH, mode=Mode.SUBTRACT)


solid = f1_1.part
